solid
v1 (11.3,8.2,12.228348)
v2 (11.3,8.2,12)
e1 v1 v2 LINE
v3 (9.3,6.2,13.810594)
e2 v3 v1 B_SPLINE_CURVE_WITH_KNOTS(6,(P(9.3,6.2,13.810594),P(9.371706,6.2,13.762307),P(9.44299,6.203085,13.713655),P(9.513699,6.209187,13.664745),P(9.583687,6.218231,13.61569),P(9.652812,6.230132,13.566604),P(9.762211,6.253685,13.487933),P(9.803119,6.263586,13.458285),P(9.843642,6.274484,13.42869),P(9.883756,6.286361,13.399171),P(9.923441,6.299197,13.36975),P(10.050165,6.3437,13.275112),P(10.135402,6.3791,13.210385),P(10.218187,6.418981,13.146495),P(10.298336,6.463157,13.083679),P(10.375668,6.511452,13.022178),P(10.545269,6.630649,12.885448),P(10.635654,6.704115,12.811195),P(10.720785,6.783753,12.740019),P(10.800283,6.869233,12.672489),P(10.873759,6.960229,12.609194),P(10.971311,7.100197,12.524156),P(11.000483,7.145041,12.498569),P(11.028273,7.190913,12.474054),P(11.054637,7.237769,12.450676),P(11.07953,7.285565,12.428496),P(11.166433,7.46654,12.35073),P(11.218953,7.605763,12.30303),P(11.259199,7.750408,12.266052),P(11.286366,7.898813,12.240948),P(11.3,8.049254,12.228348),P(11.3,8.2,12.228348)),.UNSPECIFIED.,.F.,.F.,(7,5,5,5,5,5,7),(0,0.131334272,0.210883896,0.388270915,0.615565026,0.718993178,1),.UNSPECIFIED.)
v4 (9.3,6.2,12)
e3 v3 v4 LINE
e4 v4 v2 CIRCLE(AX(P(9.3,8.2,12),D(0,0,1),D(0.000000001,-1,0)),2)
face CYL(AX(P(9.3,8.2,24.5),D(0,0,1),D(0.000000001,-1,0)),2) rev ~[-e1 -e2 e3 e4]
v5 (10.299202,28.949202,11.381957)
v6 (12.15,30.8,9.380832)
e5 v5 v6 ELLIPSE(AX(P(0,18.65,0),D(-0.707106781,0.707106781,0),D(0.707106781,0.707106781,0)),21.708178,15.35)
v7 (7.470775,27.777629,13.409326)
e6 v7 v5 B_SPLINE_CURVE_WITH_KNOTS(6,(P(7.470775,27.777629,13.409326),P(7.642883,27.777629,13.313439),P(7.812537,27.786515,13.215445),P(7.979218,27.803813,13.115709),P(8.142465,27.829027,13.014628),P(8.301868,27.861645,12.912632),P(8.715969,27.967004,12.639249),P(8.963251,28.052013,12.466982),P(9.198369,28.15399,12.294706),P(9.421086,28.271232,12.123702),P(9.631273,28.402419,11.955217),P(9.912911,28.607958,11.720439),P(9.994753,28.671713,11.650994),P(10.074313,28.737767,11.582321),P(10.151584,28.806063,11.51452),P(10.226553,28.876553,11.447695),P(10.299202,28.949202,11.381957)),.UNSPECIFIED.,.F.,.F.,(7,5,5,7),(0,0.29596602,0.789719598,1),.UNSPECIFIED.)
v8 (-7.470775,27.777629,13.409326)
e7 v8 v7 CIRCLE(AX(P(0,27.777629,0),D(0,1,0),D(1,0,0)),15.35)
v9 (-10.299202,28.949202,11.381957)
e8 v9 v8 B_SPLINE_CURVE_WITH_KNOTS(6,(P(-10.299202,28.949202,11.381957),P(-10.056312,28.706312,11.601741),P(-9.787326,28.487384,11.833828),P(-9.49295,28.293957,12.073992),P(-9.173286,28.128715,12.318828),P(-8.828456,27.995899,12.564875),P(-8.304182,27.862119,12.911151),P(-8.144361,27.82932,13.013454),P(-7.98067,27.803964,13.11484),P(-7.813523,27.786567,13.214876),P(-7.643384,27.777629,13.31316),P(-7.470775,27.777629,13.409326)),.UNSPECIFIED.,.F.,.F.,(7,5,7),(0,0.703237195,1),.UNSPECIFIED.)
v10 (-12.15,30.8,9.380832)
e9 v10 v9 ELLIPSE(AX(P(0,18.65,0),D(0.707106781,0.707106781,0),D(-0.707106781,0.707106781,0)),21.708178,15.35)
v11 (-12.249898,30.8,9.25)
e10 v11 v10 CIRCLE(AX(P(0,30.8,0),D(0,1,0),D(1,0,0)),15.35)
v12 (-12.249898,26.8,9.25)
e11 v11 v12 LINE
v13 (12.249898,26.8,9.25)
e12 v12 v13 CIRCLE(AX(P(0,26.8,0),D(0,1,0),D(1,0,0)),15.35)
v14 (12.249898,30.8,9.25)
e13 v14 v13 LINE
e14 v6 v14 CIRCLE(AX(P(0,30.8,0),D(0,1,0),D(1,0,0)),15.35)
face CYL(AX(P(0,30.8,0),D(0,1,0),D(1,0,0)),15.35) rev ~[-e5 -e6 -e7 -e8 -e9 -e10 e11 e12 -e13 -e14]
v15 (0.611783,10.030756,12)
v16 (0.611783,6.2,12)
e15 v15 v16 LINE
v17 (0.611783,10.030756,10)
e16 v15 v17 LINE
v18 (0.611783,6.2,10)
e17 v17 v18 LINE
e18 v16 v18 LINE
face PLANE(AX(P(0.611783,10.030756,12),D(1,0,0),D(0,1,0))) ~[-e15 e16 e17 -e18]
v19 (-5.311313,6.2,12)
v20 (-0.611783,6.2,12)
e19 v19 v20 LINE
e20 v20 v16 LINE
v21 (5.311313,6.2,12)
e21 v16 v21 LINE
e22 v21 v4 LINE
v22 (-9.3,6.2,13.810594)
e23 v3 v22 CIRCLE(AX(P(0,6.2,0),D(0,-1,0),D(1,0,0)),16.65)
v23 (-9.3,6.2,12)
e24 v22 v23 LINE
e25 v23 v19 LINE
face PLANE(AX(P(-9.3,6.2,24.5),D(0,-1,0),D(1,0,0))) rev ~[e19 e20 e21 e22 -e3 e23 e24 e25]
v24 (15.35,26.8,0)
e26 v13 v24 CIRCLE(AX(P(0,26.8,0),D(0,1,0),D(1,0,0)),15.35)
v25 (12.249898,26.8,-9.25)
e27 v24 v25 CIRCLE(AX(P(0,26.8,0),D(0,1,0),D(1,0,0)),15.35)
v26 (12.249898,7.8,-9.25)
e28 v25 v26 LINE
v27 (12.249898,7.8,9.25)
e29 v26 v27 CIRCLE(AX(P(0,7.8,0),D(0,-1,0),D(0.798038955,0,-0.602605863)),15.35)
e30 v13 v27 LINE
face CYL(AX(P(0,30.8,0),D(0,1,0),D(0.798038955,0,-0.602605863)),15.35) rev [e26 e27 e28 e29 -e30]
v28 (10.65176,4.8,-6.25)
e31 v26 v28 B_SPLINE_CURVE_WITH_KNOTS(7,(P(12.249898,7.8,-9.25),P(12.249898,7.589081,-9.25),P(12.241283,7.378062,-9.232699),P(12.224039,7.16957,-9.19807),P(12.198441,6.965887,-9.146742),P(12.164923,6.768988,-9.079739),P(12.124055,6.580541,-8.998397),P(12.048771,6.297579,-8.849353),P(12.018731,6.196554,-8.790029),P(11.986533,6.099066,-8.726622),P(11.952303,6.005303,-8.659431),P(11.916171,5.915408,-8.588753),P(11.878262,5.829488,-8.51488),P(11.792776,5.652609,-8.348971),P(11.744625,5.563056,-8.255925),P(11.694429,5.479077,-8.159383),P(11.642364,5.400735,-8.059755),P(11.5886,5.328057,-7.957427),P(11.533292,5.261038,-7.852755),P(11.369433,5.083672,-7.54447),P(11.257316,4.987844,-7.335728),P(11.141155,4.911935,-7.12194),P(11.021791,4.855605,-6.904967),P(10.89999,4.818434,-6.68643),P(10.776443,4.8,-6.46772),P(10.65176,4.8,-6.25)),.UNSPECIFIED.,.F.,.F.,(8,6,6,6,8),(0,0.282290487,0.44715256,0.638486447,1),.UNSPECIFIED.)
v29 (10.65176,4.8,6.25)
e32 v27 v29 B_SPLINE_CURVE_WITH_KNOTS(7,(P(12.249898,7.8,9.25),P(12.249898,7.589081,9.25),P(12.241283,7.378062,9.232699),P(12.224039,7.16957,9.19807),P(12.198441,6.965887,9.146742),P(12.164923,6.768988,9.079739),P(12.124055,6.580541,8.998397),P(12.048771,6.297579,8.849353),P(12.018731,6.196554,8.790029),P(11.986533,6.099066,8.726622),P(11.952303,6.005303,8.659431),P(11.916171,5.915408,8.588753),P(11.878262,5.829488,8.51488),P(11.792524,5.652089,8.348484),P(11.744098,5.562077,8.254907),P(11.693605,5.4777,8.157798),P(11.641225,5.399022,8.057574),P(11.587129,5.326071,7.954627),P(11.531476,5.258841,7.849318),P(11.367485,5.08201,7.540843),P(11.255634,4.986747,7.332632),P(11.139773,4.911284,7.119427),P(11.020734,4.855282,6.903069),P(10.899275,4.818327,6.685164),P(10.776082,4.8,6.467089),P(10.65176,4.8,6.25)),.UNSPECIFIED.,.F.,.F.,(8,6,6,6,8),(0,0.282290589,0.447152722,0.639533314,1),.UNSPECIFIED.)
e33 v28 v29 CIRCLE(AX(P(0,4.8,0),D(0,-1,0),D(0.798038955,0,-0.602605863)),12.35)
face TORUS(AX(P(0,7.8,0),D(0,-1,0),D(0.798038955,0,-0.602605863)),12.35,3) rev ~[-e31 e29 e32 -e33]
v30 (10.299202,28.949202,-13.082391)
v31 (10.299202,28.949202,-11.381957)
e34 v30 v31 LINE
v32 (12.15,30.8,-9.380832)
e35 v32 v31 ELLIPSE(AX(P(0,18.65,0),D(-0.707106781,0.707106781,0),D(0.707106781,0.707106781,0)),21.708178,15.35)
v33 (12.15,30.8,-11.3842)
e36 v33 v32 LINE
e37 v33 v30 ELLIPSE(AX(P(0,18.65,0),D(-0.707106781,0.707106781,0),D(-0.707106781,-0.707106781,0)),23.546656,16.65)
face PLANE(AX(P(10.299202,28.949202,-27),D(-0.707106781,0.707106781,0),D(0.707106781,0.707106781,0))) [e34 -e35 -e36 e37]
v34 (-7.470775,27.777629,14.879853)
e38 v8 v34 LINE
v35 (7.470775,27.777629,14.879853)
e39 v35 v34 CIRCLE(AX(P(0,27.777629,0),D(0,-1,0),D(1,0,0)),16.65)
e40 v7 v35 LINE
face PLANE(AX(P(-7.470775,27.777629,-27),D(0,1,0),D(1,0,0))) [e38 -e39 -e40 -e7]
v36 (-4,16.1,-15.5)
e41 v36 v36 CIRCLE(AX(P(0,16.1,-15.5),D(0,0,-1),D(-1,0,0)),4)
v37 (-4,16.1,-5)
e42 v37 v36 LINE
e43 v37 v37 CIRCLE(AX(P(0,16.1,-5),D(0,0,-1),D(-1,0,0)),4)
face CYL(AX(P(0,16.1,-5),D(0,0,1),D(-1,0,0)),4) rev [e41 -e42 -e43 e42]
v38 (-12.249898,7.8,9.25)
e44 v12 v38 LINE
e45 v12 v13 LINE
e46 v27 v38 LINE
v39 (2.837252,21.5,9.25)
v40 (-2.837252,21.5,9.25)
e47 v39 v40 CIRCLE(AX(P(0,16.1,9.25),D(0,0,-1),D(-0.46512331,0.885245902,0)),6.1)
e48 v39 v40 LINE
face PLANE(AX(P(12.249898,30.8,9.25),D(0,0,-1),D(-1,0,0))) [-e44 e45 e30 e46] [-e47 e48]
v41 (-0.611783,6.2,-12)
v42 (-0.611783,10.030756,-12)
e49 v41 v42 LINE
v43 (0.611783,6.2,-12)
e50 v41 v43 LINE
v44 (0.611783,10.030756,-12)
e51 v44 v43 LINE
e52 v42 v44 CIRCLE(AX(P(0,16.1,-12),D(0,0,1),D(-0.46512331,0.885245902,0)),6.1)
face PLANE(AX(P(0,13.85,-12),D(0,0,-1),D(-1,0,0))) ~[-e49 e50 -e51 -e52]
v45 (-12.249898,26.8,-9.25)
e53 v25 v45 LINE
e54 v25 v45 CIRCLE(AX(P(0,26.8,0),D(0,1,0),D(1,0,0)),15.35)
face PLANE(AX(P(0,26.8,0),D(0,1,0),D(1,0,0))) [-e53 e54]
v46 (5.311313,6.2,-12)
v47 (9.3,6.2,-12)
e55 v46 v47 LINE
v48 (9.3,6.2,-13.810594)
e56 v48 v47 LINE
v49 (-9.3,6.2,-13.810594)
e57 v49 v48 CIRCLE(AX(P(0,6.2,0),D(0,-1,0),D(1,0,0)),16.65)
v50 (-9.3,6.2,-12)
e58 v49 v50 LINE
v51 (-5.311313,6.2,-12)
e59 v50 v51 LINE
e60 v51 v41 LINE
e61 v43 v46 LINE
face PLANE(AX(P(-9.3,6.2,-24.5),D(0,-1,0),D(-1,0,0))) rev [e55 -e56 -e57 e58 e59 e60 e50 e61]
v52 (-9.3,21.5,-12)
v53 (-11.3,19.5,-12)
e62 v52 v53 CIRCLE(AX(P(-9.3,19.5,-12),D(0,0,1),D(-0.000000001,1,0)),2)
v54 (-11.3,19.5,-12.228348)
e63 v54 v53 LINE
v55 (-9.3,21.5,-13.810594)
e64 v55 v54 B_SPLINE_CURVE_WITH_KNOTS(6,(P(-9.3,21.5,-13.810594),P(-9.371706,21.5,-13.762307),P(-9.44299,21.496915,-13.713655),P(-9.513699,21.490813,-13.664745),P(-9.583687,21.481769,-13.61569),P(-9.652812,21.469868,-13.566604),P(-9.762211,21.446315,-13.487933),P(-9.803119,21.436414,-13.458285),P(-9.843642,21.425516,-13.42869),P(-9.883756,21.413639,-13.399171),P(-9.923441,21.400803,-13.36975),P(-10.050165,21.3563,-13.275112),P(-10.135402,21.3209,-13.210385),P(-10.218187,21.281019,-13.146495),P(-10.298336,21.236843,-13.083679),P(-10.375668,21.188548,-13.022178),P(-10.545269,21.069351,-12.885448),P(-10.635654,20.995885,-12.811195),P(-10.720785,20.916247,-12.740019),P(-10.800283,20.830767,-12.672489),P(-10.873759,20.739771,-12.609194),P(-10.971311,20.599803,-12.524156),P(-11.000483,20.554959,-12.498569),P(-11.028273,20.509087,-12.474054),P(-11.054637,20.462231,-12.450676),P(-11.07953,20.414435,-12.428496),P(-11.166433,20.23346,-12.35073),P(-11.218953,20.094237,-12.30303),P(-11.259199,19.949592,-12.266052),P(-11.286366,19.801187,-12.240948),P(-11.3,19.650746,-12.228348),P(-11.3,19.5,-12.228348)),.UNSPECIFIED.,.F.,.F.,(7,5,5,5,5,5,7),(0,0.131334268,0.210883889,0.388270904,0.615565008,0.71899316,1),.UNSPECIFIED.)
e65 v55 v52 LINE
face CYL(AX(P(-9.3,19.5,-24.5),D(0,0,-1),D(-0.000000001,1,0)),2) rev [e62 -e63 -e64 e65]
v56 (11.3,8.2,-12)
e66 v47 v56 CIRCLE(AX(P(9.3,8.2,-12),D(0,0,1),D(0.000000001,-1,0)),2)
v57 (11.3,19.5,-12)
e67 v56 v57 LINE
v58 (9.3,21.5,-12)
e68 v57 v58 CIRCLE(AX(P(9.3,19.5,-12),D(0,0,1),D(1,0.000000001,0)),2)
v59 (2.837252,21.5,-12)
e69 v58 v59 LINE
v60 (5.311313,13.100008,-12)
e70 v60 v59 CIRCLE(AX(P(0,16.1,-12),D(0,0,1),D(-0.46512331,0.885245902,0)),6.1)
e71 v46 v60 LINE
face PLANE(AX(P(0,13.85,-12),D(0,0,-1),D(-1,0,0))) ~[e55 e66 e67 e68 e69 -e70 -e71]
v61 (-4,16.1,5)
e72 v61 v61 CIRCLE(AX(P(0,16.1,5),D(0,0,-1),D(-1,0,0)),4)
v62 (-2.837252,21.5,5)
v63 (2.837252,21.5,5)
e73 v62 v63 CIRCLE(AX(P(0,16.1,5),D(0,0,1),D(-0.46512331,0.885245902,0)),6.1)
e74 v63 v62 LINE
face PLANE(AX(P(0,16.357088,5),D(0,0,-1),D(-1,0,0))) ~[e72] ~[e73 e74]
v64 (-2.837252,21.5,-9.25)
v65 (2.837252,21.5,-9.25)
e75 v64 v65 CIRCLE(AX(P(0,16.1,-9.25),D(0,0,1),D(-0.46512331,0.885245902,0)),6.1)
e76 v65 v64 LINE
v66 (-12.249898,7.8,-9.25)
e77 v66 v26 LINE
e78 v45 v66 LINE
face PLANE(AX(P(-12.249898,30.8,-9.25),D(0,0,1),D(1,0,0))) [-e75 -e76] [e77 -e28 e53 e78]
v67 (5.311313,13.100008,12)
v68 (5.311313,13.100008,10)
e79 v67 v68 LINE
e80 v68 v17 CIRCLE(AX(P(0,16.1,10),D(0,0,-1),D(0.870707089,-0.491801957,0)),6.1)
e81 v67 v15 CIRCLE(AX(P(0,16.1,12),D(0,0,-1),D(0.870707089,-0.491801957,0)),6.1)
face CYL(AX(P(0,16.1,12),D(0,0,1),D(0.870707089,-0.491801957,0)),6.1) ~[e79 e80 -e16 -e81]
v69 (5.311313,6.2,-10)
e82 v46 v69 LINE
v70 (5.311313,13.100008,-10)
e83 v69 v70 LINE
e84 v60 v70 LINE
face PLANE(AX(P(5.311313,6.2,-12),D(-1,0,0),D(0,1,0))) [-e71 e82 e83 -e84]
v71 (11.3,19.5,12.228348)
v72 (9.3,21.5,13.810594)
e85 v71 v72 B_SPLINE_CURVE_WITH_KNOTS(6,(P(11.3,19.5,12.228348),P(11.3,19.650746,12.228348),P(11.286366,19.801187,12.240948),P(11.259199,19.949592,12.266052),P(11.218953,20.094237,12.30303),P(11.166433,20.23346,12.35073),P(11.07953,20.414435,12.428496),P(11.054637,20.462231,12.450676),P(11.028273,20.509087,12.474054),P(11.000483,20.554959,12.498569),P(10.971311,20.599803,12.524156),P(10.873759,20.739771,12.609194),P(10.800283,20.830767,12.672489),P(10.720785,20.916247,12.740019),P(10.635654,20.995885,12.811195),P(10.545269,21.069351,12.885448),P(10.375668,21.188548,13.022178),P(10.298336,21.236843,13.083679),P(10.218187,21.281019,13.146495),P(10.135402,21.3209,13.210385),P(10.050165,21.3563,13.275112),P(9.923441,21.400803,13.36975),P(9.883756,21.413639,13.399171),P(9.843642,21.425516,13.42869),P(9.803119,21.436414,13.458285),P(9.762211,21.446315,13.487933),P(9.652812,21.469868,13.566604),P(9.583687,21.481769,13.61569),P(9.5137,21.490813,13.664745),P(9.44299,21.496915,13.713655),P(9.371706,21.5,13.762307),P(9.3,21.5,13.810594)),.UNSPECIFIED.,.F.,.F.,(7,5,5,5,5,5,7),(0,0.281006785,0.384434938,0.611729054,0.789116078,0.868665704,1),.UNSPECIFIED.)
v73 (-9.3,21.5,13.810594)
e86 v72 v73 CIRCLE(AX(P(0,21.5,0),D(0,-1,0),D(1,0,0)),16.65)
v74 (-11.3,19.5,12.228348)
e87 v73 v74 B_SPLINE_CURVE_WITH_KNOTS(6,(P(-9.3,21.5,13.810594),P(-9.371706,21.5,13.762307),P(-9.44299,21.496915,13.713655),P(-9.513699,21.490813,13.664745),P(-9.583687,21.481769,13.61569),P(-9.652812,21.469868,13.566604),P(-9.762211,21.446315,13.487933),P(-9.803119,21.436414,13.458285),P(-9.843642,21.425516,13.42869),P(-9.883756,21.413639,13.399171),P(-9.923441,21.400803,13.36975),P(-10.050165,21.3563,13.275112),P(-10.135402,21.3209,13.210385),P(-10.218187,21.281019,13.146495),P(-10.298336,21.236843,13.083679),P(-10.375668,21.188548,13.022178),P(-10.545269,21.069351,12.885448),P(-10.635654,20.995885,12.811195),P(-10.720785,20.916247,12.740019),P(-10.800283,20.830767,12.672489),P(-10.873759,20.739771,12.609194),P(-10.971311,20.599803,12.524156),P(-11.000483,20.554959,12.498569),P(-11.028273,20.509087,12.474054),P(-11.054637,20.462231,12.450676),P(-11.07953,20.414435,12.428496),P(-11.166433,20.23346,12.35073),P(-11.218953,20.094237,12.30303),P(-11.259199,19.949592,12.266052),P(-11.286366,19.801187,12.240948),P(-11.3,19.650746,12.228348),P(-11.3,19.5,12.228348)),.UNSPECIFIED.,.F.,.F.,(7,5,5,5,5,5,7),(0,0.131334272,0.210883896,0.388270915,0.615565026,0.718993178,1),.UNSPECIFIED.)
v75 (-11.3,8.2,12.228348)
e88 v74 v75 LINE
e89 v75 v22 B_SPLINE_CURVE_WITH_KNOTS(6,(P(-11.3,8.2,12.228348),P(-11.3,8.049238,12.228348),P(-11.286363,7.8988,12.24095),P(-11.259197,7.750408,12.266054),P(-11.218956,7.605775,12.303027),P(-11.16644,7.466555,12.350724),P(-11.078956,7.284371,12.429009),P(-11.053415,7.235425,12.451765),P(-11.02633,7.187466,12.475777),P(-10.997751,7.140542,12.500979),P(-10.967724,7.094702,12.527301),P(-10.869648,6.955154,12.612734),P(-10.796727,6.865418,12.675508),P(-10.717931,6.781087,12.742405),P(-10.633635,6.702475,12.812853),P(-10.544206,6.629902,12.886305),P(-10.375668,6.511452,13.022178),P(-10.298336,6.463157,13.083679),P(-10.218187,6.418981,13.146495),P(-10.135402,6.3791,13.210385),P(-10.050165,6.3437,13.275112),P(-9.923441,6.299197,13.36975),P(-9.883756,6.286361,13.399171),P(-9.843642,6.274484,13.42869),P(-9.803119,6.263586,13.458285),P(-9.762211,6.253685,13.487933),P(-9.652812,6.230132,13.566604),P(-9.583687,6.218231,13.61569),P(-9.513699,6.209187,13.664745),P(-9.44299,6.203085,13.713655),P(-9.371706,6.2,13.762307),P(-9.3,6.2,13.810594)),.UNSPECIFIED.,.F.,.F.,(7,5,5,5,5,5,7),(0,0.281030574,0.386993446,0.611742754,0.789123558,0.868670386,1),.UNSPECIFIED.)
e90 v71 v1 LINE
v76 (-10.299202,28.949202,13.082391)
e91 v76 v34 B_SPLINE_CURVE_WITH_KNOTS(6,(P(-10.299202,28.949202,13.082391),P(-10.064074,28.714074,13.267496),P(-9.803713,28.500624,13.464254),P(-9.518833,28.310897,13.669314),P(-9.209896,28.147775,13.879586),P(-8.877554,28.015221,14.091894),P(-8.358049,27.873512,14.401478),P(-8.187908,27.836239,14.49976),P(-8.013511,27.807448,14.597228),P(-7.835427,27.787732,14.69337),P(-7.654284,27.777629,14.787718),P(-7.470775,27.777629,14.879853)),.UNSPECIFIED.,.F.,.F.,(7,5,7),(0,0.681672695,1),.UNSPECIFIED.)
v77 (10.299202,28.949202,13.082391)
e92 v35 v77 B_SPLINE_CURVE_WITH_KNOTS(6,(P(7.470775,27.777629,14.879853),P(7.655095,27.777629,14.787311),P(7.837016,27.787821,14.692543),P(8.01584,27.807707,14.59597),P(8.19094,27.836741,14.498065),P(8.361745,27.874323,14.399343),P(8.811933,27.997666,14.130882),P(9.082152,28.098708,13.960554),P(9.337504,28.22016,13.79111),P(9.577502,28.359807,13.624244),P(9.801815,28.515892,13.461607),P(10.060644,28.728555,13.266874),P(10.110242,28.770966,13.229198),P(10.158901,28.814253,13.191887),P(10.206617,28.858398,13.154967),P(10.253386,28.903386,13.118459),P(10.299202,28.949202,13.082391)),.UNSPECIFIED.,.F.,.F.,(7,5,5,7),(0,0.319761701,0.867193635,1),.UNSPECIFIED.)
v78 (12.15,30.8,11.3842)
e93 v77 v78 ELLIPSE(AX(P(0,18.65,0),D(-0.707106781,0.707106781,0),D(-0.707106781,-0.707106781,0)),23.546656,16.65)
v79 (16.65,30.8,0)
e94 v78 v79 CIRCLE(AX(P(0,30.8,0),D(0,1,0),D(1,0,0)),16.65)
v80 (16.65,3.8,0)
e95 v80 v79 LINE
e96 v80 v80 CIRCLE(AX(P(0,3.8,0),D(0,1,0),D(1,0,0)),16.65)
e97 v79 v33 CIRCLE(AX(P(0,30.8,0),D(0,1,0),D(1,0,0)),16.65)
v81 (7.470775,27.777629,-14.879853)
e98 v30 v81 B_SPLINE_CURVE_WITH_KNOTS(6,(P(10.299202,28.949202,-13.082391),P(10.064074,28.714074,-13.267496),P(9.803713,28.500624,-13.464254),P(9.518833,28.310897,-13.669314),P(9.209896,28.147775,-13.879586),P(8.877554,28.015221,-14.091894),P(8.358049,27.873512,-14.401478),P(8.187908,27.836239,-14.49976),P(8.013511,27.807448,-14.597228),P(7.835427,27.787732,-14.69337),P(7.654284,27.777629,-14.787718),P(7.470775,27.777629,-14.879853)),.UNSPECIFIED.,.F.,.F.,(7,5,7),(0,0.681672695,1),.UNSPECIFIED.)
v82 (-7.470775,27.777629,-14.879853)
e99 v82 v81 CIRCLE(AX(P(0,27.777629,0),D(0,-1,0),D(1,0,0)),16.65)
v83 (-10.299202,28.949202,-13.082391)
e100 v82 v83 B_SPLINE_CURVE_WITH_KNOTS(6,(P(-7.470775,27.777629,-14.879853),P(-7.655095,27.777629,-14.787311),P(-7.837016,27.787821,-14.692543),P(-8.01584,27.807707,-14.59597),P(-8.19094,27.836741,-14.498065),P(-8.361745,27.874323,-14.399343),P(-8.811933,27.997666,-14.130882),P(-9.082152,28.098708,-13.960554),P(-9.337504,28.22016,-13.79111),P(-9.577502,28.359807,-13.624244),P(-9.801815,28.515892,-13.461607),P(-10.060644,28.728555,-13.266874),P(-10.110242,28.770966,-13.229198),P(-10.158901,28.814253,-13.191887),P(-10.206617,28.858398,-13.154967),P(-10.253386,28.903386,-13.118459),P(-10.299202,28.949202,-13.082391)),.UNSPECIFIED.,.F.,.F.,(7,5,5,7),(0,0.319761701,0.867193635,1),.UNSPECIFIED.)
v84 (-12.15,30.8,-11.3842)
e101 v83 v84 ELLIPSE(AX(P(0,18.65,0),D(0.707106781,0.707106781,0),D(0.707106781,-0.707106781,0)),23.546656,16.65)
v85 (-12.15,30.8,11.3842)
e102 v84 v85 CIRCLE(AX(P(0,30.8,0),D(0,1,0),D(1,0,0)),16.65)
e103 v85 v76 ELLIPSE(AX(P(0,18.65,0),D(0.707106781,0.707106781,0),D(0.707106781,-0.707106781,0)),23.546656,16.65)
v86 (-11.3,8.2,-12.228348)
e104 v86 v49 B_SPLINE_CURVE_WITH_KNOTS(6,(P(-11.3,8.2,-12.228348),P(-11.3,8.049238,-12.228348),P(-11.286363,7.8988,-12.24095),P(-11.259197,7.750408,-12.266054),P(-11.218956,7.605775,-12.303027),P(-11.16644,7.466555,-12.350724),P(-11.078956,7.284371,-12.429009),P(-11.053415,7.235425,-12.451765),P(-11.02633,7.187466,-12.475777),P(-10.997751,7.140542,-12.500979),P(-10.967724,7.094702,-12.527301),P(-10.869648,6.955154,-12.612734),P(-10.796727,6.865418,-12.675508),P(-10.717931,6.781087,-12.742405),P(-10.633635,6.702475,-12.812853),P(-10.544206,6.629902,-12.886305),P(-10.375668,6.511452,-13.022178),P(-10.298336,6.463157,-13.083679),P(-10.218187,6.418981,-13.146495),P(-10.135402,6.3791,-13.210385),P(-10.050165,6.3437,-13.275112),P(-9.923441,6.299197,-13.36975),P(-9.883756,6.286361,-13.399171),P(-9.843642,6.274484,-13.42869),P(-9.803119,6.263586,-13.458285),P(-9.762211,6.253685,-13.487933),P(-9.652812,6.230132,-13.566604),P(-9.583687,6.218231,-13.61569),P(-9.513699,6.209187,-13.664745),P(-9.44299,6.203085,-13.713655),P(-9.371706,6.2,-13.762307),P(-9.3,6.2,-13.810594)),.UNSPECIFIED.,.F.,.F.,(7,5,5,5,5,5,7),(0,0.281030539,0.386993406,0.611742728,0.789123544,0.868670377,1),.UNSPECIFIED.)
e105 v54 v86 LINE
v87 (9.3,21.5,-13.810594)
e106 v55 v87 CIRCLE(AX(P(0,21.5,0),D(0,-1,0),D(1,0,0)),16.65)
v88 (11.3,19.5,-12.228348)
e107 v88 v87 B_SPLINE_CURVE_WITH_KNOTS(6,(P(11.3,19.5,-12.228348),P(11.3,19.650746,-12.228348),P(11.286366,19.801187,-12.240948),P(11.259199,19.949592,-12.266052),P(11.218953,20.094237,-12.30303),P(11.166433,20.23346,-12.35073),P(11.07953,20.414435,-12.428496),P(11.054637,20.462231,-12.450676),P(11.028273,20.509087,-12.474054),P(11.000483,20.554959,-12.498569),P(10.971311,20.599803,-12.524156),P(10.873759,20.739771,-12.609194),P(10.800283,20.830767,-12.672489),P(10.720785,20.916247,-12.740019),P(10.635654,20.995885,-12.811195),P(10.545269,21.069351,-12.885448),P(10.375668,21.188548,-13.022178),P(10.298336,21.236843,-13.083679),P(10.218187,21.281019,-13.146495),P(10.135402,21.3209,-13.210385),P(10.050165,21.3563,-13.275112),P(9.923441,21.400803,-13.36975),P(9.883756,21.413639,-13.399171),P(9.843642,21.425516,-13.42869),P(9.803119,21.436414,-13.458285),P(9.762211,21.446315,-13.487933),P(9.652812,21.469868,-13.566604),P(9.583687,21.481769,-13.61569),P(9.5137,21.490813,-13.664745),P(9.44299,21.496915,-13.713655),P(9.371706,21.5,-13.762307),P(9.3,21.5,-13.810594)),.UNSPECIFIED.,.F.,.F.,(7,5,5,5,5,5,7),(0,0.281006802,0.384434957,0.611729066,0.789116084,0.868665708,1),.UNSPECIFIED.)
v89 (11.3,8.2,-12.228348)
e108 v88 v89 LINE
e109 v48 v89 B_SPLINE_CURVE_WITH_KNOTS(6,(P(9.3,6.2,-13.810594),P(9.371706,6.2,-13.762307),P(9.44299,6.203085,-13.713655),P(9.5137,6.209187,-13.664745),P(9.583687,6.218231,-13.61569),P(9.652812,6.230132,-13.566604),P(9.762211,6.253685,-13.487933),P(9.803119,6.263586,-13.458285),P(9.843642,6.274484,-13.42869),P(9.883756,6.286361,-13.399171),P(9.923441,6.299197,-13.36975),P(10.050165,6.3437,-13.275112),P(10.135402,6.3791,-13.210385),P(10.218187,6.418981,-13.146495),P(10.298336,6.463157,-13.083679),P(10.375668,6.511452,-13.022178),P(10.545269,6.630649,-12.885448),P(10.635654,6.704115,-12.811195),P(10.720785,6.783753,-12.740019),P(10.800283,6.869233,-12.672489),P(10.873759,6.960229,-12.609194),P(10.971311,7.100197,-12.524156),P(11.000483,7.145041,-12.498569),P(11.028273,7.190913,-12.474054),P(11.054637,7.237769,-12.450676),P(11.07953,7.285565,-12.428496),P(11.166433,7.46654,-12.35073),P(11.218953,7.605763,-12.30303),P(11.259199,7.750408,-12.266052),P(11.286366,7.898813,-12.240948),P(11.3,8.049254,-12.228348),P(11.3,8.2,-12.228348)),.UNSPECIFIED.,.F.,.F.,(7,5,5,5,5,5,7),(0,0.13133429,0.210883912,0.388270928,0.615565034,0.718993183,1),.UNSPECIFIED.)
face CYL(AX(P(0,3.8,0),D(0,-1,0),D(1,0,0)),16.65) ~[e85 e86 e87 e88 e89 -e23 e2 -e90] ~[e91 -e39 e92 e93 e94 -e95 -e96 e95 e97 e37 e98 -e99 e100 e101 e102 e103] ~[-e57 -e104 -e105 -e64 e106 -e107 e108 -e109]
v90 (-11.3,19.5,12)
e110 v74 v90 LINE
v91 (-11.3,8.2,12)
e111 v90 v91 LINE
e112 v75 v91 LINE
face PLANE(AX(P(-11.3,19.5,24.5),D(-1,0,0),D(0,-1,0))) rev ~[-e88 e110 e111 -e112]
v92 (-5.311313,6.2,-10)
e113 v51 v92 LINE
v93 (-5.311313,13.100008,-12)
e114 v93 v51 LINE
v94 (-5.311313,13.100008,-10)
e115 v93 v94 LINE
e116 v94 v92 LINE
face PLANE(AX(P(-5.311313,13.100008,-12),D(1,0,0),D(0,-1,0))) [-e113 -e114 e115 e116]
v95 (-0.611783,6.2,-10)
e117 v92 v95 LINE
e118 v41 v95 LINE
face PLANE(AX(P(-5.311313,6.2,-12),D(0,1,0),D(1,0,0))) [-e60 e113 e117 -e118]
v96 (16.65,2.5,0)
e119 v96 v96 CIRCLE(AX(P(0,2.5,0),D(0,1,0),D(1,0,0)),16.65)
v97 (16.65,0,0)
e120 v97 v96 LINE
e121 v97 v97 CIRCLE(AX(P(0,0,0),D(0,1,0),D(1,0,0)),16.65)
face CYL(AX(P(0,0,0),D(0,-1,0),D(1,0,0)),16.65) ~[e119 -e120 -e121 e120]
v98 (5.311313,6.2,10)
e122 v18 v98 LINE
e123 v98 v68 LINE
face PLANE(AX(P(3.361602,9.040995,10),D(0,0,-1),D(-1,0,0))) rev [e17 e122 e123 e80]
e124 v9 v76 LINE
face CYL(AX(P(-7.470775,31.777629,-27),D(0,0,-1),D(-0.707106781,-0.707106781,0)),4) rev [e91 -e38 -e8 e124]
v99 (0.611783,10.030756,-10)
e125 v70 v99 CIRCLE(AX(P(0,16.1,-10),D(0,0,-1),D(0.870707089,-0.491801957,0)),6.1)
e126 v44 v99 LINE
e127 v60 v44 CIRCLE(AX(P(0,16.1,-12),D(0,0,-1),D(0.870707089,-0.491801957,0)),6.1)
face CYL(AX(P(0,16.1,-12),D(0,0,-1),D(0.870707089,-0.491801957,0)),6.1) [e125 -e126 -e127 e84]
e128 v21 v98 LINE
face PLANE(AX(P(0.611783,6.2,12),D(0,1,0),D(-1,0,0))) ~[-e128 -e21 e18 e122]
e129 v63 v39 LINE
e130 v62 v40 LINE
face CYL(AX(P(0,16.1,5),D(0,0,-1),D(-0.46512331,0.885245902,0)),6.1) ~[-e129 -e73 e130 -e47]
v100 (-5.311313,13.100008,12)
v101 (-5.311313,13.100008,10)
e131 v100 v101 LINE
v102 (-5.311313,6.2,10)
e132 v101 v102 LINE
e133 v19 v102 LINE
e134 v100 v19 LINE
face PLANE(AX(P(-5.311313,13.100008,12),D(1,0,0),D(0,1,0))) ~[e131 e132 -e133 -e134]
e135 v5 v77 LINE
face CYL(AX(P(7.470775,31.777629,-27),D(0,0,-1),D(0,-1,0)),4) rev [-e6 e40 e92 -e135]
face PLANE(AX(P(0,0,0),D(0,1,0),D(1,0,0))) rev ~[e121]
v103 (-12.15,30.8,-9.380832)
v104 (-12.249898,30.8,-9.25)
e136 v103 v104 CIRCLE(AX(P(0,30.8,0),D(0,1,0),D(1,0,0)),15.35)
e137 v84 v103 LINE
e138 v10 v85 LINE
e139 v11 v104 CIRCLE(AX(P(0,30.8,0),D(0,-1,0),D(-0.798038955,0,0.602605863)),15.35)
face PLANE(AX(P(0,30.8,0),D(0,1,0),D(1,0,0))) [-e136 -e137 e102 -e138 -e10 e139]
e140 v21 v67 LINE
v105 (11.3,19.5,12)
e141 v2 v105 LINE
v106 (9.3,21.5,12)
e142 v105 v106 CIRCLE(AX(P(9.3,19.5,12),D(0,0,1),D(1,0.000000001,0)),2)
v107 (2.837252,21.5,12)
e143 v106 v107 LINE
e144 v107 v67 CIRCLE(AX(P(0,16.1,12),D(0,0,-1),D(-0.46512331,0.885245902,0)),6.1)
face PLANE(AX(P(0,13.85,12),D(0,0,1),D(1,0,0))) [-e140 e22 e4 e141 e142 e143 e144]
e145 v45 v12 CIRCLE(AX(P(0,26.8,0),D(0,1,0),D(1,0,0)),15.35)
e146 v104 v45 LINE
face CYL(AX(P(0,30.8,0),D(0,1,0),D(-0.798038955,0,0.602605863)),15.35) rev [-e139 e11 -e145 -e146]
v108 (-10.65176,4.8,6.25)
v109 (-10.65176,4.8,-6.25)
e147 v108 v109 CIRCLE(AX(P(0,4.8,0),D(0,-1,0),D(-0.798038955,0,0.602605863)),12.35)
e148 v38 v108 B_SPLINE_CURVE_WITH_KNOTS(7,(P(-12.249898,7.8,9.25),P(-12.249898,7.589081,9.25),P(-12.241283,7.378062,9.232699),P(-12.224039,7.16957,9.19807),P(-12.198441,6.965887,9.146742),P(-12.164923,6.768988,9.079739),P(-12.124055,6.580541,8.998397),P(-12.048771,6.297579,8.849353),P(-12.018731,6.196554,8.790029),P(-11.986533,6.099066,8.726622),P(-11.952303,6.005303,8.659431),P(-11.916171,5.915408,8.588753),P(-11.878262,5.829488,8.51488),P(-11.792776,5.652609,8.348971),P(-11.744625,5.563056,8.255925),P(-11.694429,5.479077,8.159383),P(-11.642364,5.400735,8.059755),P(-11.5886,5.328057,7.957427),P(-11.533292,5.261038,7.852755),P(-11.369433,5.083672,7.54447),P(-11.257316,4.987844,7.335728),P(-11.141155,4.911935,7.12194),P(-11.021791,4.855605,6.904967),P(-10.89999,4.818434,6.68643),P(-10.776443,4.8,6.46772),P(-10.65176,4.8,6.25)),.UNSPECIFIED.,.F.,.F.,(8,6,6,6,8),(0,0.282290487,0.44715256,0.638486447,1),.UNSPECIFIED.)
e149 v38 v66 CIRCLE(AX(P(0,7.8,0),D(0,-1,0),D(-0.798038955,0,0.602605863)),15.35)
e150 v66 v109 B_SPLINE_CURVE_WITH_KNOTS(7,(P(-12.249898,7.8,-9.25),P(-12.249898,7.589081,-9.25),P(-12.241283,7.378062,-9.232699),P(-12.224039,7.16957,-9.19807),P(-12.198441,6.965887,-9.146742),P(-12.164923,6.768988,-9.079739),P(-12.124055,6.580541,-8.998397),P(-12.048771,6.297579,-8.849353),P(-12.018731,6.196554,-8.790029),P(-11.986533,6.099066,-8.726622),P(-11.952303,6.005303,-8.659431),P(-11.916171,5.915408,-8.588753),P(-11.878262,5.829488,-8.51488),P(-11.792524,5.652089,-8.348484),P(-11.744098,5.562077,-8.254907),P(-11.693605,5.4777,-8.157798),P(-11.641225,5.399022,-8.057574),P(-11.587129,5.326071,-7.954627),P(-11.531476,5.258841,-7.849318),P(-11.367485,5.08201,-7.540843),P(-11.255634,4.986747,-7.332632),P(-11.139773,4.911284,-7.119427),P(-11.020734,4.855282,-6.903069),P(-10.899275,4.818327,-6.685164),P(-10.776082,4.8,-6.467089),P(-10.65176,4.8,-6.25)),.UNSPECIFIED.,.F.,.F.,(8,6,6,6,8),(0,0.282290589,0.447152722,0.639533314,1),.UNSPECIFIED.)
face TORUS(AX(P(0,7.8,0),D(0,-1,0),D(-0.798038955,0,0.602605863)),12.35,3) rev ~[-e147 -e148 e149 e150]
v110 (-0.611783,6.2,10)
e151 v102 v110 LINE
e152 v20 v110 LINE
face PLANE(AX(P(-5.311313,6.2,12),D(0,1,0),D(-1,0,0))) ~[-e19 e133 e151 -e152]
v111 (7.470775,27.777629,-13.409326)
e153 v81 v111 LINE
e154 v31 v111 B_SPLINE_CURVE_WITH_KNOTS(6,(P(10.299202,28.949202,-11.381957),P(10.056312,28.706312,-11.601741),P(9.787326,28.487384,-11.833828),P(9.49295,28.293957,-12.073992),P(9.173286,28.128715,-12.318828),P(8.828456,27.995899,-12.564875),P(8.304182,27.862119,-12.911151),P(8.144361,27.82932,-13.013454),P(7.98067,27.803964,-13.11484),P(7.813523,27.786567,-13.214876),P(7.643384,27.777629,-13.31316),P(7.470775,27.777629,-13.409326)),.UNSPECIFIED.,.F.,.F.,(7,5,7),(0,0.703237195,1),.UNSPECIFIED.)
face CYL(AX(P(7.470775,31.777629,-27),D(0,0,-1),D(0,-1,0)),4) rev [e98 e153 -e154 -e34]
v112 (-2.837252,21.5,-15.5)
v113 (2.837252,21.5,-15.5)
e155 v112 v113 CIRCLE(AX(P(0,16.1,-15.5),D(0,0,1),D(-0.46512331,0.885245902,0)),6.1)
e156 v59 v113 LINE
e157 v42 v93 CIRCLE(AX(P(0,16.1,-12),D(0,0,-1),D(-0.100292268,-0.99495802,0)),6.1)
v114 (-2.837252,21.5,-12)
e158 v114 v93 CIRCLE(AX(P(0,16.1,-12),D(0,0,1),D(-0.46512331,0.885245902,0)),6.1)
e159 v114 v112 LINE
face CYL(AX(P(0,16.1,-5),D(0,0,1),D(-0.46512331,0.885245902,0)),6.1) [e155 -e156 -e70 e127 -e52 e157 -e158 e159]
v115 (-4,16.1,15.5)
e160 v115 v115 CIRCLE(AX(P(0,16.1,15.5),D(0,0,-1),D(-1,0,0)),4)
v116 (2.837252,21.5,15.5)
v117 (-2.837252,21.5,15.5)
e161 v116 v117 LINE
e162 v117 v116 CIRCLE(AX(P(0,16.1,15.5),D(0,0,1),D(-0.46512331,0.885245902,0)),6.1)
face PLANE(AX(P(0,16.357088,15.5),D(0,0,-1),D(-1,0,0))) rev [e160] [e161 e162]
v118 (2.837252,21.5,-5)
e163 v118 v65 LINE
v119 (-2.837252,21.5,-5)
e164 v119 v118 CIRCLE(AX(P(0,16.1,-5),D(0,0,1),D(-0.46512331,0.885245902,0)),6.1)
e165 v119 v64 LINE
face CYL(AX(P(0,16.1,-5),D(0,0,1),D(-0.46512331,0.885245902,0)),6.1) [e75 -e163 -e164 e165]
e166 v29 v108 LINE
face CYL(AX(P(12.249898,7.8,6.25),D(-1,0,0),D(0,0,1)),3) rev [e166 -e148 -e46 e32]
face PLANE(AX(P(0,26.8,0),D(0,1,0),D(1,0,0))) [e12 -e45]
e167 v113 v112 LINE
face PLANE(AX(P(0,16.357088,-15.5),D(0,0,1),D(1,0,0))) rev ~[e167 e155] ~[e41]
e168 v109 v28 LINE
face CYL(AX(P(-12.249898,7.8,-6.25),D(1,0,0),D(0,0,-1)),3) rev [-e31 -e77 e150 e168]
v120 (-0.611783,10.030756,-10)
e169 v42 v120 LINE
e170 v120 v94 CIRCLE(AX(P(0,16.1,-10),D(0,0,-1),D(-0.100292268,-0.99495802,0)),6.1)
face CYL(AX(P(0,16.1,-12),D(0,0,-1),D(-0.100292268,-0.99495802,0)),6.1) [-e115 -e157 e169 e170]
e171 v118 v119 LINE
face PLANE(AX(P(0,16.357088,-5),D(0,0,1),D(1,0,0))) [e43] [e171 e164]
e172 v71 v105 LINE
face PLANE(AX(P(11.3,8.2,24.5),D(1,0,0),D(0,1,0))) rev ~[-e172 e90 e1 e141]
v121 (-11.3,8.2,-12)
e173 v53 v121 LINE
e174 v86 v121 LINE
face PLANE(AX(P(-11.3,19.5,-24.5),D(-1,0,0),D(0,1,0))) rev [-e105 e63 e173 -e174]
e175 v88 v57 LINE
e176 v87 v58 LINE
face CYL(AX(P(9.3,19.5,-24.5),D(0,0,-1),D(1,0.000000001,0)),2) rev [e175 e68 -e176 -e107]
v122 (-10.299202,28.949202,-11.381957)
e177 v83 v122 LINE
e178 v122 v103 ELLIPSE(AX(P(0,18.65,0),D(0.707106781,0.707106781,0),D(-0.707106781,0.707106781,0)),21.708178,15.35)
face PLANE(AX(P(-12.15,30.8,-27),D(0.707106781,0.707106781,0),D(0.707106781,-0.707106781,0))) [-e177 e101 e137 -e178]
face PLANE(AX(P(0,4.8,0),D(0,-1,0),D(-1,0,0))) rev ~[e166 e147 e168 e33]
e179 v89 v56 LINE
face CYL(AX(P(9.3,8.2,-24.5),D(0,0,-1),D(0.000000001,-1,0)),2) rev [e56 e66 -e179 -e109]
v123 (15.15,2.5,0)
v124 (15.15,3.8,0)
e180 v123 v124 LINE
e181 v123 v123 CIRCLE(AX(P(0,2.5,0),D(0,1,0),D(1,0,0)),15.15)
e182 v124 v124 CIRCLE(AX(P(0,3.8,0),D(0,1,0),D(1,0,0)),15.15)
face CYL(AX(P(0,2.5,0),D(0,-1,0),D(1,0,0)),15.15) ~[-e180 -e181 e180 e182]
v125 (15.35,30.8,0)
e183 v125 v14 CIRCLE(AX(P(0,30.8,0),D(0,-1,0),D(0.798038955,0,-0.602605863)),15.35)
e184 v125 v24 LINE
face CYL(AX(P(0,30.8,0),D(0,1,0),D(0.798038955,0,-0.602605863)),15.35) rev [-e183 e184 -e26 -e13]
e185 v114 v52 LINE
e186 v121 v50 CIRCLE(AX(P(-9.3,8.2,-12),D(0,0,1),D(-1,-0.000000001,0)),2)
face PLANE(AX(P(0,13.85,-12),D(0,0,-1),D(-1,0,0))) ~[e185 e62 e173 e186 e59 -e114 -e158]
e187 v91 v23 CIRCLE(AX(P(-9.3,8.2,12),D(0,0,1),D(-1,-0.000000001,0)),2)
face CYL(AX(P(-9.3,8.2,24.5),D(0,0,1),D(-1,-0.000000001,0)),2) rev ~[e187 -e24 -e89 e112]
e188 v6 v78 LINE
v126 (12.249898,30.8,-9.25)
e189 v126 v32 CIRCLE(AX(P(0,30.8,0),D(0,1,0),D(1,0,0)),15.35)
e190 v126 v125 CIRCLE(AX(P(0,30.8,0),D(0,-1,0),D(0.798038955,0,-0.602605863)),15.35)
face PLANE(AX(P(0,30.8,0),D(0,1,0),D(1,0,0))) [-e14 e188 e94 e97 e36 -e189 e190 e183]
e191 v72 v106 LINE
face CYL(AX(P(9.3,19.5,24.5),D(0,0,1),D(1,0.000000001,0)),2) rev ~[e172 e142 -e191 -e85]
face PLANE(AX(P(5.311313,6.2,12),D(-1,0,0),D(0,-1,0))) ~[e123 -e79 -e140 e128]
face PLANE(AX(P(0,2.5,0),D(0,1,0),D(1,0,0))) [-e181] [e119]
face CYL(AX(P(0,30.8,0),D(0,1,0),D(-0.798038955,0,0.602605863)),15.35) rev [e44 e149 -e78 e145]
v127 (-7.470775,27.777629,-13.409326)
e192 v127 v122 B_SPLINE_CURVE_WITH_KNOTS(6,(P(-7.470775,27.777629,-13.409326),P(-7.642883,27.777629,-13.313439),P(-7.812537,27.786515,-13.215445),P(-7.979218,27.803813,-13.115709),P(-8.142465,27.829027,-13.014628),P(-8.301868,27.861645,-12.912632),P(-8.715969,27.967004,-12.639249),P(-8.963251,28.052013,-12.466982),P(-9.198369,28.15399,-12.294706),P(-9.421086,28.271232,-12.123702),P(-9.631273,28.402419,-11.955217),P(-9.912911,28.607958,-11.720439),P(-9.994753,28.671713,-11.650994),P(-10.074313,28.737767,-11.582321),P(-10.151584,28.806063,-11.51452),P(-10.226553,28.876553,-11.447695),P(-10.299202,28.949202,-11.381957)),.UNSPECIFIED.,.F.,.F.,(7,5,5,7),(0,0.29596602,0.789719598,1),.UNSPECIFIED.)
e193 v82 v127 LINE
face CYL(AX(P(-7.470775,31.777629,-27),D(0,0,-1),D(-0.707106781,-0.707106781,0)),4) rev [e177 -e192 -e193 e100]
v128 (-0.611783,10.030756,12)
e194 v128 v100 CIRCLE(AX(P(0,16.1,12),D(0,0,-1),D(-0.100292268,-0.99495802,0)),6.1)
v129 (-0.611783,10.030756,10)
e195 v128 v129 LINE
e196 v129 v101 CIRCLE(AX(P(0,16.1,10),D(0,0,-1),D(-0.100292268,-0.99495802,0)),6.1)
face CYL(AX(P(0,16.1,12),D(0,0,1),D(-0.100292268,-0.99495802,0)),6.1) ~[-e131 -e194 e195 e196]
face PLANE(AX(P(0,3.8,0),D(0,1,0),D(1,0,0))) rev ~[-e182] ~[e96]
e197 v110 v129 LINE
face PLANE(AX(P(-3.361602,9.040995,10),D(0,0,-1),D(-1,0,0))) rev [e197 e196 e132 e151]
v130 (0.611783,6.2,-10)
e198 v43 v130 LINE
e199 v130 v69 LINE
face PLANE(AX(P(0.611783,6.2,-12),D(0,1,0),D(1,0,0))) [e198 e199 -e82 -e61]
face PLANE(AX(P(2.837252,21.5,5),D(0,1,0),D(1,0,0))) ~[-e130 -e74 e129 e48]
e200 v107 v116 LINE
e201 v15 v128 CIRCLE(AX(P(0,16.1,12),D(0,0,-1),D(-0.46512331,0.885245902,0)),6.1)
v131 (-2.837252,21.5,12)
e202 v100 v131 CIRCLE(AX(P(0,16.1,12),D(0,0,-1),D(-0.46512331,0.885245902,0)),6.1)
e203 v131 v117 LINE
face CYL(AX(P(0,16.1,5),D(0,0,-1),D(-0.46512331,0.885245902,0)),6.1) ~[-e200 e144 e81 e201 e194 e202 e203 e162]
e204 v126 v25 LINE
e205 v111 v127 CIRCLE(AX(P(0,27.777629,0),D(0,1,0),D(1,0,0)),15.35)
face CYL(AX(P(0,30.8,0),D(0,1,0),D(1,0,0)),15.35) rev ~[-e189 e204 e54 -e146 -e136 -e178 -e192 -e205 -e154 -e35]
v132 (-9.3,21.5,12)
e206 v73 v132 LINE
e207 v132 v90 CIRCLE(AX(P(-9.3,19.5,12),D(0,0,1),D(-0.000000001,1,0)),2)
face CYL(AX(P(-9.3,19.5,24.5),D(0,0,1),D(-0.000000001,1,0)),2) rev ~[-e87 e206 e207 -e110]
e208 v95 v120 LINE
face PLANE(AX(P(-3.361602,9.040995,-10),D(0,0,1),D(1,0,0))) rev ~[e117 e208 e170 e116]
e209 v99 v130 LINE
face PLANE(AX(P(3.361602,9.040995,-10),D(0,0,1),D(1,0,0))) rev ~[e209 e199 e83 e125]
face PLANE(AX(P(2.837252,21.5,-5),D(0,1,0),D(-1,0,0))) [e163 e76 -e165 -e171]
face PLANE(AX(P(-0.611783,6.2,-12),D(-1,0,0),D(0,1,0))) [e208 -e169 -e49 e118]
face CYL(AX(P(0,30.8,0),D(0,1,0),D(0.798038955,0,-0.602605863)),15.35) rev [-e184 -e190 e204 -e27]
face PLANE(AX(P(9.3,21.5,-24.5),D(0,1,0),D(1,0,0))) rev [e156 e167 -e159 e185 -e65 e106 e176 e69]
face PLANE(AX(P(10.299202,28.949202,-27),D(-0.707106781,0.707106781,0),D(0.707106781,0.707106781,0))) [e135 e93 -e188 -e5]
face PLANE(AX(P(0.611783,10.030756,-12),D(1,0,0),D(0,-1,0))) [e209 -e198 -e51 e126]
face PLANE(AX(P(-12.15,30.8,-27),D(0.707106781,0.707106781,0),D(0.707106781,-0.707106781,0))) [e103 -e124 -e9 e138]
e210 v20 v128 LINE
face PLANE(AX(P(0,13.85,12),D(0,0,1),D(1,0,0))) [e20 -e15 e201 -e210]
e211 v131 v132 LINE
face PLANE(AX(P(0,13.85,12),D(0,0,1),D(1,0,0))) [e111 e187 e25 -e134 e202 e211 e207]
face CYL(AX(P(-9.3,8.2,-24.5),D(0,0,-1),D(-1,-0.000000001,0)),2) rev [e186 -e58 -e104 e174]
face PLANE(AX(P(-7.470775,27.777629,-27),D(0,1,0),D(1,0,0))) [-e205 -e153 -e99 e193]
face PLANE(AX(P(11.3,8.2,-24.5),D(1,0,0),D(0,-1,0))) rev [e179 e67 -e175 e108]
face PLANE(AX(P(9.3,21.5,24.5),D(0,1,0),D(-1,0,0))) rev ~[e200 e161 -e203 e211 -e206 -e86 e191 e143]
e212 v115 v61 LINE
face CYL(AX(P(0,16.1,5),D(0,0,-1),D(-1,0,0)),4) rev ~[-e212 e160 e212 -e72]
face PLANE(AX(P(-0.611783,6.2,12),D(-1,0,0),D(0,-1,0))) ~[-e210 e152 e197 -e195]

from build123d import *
from build123d.topology import SkipClean

# Parameters (mm, degrees)
SKETCH1_R               = 16.65
BOSS_EXTRUDE1_DEPTH     = 2.5
SKETCH2_R               = 15.15
BOSS_EXTRUDE2_DEPTH     = 1.3
SKETCH3_R               = 16.65
BOSS_EXTRUDE3_DEPTH     = 27
CUT_EXTRUDE1_DEPTH      = 27
CUT_EXTRUDE1_DEPTH_BACK = 27
CUT_EXTRUDE2_DEPTH      = 26
CUT_EXTRUDE3_DEPTH      = 12.5
BOSS_EXTRUDE4_START     = -7
SKETCH8_R               = 4
BOSS_EXTRUDE4_DEPTH     = 10.5
FILLET1_R               = 3
SKETCH9_R               = 4
CUT_EXTRUDE4_DEPTH      = 33.5
CUT_EXTRUDE5_DEPTH      = 2
SKETCH11_R              = 15.35
CUT_EXTRUDE6_DEPTH      = 4


with BuildPart() as part:
    # Sketch1 → Boss-Extrude1 (new body)
    with BuildSketch(Plane(origin=(0, 0, 0), x_dir=(1, 0, 0), z_dir=(0, 1, 0))):
        Circle(SKETCH1_R)
    extrude(amount=BOSS_EXTRUDE1_DEPTH)

    # Sketch2 → Boss-Extrude2 (add)
    with BuildSketch(Plane(origin=(0, 2.5, 0), x_dir=(1, 0, 0), z_dir=(0, 1, 0))):
        Circle(SKETCH2_R)
    extrude(amount=BOSS_EXTRUDE2_DEPTH)

    # Sketch3 → Boss-Extrude3 (add)
    with BuildSketch(Plane(origin=(0, 3.8, 0), x_dir=(1, 0, 0), z_dir=(0, 1, 0))):
        Circle(SKETCH3_R)
    extrude(amount=BOSS_EXTRUDE3_DEPTH)

    # Sketch4 → Cut-Extrude1 (cut, two sides: drawn at the far end of the back side and taken through both)
    with BuildSketch(Plane.XY.offset(-CUT_EXTRUDE1_DEPTH_BACK)):
        with BuildLine():
            Line((-12.15, 30.8), (-10.299201712, 28.949201712))
            ThreePointArc((-10.299201712, 28.949201712), (-9.001508317, 28.082110707), (-7.470774587, 27.777628837))
            Line((-7.470774587, 27.777628837), (7.470774587, 27.777628837))
            ThreePointArc((7.470774587, 27.777628837), (9.001508317, 28.082110707), (10.299201712, 28.949201712))
            Line((10.299201712, 28.949201712), (12.15, 30.8))
            Line((12.15, 30.8), (-12.15, 30.8))
        make_face()
    extrude(amount=CUT_EXTRUDE1_DEPTH + CUT_EXTRUDE1_DEPTH_BACK, mode=Mode.SUBTRACT)

    # Sketch6 → Cut-Extrude2 (cut)
    with BuildSketch(Plane(origin=(0, 30.8, 0), x_dir=(1, 0, 0), z_dir=(0, 1, 0))):
        with BuildLine():
            Line((-12.249897959, 9.25), (12.249897959, 9.25))
            ThreePointArc((12.249897959, 9.25), (15.35, 0), (12.249897959, -9.25))
            Line((12.249897959, -9.25), (-12.249897959, -9.25))
            ThreePointArc((-12.249897959, -9.25), (-15.35, 0), (-12.249897959, 9.25))
        make_face()
    extrude(amount=-CUT_EXTRUDE2_DEPTH, mode=Mode.SUBTRACT)

    # Sketch7 → Cut-Extrude3 (cut)
    with BuildSketch(Plane.XY.offset(24.5)):
        with BuildLine():
            Line((-9.3, 6.2), (9.3, 6.2))
            ThreePointArc((9.3, 6.2), (10.714213562, 6.785786438), (11.3, 8.2))
            Line((11.3, 8.2), (11.3, 19.5))
            ThreePointArc((11.3, 19.5), (10.714213562, 20.914213562), (9.3, 21.5))
            Line((9.3, 21.5), (-9.3, 21.5))
            ThreePointArc((-9.3, 21.5), (-10.714213562, 20.914213562), (-11.3, 19.5))
            Line((-11.3, 19.5), (-11.3, 8.2))
            ThreePointArc((-11.3, 8.2), (-10.714213562, 6.785786438), (-9.3, 6.2))
        make_face()
    cut_extrude3 = extrude(amount=-CUT_EXTRUDE3_DEPTH, mode=Mode.SUBTRACT)

    # Mirror1: Cut-Extrude3 across plane
    add(cut_extrude3.mirror(Plane.XY), mode=Mode.SUBTRACT)

    # Sketch8 → Boss-Extrude4 (add)
    with BuildSketch(Plane(origin=(0, 0, -12), x_dir=(-1, 0, 0), z_dir=(0, 0, -1)).offset(BOSS_EXTRUDE4_START)):
        with BuildLine():
            Line((-2.837252192, 21.5), (2.837252192, 21.5))
            ThreePointArc((2.837252192, 21.5), (0, 10), (-2.837252192, 21.5))
        make_face()
        with Locations((0, 16.1)):
            Circle(SKETCH8_R, mode=Mode.SUBTRACT)
    boss_extrude4 = extrude(amount=BOSS_EXTRUDE4_DEPTH)

    # Mirror2: Boss-Extrude4 across plane
    add(boss_extrude4.mirror(Plane.XY))

    # Fillet1
    fillet1_edges = [part.edges().sort_by_distance(p)[0] for p in [
        (0, 4.8, 9.25),
        (-15.35, 4.8, 0),
        (0, 4.8, -9.25),
        (15.35, 4.8, 0),
    ]]
    fillet(fillet1_edges, radius=FILLET1_R)

    # Sketch9 → Cut-Extrude4 (cut)
    with BuildSketch(Plane(origin=(0, 0, -12), x_dir=(-1, 0, 0), z_dir=(0, 0, -1))):
        with Locations((0, 16.1)):
            Circle(SKETCH9_R)
    extrude(amount=-CUT_EXTRUDE4_DEPTH, mode=Mode.SUBTRACT)

    # Sketch10 → Cut-Extrude5 (cut)
    with SkipClean():  # the faces are left unmerged after this step: merging them gives an invalid solid
        with BuildSketch(Plane(origin=(0, 0, -12), x_dir=(-1, 0, 0), z_dir=(0, 0, -1))):
            with BuildLine():
                Line((0.611782833, 6.2), (0.611782833, 10.03075608))
                ThreePointArc((0.611782833, 10.03075608), (3.335542493, 10.992734952), (5.311313245, 13.100008065))
                Line((5.311313245, 13.100008065), (5.311313245, 6.2))
                Line((5.311313245, 6.2), (0.611782833, 6.2))
            make_face()
            with BuildLine():
                Line((-5.311313245, 6.2), (-5.311313245, 13.100008065))
                ThreePointArc((-5.311313245, 13.100008065), (-3.335542493, 10.992734952), (-0.611782833, 10.03075608))
                Line((-0.611782833, 10.03075608), (-0.611782833, 6.2))
                Line((-0.611782833, 6.2), (-5.311313245, 6.2))
            make_face()
        cut_extrude5 = extrude(amount=-CUT_EXTRUDE5_DEPTH, mode=Mode.SUBTRACT)

    # Mirror3: Cut-Extrude5 across plane
    with SkipClean():  # the faces are left unmerged after this step: merging them gives an invalid solid
        add(cut_extrude5.mirror(Plane.XY), mode=Mode.SUBTRACT)

    # Sketch11 → Cut-Extrude6 (cut)
    with SkipClean():  # the faces are left unmerged after this step: merging them gives an invalid solid
        with BuildSketch(Plane(origin=(0, 30.8, 0), x_dir=(1, 0, 0), z_dir=(0, 1, 0))):
            Circle(SKETCH11_R)
        extrude(amount=-CUT_EXTRUDE6_DEPTH, mode=Mode.SUBTRACT)


solid = part.part
